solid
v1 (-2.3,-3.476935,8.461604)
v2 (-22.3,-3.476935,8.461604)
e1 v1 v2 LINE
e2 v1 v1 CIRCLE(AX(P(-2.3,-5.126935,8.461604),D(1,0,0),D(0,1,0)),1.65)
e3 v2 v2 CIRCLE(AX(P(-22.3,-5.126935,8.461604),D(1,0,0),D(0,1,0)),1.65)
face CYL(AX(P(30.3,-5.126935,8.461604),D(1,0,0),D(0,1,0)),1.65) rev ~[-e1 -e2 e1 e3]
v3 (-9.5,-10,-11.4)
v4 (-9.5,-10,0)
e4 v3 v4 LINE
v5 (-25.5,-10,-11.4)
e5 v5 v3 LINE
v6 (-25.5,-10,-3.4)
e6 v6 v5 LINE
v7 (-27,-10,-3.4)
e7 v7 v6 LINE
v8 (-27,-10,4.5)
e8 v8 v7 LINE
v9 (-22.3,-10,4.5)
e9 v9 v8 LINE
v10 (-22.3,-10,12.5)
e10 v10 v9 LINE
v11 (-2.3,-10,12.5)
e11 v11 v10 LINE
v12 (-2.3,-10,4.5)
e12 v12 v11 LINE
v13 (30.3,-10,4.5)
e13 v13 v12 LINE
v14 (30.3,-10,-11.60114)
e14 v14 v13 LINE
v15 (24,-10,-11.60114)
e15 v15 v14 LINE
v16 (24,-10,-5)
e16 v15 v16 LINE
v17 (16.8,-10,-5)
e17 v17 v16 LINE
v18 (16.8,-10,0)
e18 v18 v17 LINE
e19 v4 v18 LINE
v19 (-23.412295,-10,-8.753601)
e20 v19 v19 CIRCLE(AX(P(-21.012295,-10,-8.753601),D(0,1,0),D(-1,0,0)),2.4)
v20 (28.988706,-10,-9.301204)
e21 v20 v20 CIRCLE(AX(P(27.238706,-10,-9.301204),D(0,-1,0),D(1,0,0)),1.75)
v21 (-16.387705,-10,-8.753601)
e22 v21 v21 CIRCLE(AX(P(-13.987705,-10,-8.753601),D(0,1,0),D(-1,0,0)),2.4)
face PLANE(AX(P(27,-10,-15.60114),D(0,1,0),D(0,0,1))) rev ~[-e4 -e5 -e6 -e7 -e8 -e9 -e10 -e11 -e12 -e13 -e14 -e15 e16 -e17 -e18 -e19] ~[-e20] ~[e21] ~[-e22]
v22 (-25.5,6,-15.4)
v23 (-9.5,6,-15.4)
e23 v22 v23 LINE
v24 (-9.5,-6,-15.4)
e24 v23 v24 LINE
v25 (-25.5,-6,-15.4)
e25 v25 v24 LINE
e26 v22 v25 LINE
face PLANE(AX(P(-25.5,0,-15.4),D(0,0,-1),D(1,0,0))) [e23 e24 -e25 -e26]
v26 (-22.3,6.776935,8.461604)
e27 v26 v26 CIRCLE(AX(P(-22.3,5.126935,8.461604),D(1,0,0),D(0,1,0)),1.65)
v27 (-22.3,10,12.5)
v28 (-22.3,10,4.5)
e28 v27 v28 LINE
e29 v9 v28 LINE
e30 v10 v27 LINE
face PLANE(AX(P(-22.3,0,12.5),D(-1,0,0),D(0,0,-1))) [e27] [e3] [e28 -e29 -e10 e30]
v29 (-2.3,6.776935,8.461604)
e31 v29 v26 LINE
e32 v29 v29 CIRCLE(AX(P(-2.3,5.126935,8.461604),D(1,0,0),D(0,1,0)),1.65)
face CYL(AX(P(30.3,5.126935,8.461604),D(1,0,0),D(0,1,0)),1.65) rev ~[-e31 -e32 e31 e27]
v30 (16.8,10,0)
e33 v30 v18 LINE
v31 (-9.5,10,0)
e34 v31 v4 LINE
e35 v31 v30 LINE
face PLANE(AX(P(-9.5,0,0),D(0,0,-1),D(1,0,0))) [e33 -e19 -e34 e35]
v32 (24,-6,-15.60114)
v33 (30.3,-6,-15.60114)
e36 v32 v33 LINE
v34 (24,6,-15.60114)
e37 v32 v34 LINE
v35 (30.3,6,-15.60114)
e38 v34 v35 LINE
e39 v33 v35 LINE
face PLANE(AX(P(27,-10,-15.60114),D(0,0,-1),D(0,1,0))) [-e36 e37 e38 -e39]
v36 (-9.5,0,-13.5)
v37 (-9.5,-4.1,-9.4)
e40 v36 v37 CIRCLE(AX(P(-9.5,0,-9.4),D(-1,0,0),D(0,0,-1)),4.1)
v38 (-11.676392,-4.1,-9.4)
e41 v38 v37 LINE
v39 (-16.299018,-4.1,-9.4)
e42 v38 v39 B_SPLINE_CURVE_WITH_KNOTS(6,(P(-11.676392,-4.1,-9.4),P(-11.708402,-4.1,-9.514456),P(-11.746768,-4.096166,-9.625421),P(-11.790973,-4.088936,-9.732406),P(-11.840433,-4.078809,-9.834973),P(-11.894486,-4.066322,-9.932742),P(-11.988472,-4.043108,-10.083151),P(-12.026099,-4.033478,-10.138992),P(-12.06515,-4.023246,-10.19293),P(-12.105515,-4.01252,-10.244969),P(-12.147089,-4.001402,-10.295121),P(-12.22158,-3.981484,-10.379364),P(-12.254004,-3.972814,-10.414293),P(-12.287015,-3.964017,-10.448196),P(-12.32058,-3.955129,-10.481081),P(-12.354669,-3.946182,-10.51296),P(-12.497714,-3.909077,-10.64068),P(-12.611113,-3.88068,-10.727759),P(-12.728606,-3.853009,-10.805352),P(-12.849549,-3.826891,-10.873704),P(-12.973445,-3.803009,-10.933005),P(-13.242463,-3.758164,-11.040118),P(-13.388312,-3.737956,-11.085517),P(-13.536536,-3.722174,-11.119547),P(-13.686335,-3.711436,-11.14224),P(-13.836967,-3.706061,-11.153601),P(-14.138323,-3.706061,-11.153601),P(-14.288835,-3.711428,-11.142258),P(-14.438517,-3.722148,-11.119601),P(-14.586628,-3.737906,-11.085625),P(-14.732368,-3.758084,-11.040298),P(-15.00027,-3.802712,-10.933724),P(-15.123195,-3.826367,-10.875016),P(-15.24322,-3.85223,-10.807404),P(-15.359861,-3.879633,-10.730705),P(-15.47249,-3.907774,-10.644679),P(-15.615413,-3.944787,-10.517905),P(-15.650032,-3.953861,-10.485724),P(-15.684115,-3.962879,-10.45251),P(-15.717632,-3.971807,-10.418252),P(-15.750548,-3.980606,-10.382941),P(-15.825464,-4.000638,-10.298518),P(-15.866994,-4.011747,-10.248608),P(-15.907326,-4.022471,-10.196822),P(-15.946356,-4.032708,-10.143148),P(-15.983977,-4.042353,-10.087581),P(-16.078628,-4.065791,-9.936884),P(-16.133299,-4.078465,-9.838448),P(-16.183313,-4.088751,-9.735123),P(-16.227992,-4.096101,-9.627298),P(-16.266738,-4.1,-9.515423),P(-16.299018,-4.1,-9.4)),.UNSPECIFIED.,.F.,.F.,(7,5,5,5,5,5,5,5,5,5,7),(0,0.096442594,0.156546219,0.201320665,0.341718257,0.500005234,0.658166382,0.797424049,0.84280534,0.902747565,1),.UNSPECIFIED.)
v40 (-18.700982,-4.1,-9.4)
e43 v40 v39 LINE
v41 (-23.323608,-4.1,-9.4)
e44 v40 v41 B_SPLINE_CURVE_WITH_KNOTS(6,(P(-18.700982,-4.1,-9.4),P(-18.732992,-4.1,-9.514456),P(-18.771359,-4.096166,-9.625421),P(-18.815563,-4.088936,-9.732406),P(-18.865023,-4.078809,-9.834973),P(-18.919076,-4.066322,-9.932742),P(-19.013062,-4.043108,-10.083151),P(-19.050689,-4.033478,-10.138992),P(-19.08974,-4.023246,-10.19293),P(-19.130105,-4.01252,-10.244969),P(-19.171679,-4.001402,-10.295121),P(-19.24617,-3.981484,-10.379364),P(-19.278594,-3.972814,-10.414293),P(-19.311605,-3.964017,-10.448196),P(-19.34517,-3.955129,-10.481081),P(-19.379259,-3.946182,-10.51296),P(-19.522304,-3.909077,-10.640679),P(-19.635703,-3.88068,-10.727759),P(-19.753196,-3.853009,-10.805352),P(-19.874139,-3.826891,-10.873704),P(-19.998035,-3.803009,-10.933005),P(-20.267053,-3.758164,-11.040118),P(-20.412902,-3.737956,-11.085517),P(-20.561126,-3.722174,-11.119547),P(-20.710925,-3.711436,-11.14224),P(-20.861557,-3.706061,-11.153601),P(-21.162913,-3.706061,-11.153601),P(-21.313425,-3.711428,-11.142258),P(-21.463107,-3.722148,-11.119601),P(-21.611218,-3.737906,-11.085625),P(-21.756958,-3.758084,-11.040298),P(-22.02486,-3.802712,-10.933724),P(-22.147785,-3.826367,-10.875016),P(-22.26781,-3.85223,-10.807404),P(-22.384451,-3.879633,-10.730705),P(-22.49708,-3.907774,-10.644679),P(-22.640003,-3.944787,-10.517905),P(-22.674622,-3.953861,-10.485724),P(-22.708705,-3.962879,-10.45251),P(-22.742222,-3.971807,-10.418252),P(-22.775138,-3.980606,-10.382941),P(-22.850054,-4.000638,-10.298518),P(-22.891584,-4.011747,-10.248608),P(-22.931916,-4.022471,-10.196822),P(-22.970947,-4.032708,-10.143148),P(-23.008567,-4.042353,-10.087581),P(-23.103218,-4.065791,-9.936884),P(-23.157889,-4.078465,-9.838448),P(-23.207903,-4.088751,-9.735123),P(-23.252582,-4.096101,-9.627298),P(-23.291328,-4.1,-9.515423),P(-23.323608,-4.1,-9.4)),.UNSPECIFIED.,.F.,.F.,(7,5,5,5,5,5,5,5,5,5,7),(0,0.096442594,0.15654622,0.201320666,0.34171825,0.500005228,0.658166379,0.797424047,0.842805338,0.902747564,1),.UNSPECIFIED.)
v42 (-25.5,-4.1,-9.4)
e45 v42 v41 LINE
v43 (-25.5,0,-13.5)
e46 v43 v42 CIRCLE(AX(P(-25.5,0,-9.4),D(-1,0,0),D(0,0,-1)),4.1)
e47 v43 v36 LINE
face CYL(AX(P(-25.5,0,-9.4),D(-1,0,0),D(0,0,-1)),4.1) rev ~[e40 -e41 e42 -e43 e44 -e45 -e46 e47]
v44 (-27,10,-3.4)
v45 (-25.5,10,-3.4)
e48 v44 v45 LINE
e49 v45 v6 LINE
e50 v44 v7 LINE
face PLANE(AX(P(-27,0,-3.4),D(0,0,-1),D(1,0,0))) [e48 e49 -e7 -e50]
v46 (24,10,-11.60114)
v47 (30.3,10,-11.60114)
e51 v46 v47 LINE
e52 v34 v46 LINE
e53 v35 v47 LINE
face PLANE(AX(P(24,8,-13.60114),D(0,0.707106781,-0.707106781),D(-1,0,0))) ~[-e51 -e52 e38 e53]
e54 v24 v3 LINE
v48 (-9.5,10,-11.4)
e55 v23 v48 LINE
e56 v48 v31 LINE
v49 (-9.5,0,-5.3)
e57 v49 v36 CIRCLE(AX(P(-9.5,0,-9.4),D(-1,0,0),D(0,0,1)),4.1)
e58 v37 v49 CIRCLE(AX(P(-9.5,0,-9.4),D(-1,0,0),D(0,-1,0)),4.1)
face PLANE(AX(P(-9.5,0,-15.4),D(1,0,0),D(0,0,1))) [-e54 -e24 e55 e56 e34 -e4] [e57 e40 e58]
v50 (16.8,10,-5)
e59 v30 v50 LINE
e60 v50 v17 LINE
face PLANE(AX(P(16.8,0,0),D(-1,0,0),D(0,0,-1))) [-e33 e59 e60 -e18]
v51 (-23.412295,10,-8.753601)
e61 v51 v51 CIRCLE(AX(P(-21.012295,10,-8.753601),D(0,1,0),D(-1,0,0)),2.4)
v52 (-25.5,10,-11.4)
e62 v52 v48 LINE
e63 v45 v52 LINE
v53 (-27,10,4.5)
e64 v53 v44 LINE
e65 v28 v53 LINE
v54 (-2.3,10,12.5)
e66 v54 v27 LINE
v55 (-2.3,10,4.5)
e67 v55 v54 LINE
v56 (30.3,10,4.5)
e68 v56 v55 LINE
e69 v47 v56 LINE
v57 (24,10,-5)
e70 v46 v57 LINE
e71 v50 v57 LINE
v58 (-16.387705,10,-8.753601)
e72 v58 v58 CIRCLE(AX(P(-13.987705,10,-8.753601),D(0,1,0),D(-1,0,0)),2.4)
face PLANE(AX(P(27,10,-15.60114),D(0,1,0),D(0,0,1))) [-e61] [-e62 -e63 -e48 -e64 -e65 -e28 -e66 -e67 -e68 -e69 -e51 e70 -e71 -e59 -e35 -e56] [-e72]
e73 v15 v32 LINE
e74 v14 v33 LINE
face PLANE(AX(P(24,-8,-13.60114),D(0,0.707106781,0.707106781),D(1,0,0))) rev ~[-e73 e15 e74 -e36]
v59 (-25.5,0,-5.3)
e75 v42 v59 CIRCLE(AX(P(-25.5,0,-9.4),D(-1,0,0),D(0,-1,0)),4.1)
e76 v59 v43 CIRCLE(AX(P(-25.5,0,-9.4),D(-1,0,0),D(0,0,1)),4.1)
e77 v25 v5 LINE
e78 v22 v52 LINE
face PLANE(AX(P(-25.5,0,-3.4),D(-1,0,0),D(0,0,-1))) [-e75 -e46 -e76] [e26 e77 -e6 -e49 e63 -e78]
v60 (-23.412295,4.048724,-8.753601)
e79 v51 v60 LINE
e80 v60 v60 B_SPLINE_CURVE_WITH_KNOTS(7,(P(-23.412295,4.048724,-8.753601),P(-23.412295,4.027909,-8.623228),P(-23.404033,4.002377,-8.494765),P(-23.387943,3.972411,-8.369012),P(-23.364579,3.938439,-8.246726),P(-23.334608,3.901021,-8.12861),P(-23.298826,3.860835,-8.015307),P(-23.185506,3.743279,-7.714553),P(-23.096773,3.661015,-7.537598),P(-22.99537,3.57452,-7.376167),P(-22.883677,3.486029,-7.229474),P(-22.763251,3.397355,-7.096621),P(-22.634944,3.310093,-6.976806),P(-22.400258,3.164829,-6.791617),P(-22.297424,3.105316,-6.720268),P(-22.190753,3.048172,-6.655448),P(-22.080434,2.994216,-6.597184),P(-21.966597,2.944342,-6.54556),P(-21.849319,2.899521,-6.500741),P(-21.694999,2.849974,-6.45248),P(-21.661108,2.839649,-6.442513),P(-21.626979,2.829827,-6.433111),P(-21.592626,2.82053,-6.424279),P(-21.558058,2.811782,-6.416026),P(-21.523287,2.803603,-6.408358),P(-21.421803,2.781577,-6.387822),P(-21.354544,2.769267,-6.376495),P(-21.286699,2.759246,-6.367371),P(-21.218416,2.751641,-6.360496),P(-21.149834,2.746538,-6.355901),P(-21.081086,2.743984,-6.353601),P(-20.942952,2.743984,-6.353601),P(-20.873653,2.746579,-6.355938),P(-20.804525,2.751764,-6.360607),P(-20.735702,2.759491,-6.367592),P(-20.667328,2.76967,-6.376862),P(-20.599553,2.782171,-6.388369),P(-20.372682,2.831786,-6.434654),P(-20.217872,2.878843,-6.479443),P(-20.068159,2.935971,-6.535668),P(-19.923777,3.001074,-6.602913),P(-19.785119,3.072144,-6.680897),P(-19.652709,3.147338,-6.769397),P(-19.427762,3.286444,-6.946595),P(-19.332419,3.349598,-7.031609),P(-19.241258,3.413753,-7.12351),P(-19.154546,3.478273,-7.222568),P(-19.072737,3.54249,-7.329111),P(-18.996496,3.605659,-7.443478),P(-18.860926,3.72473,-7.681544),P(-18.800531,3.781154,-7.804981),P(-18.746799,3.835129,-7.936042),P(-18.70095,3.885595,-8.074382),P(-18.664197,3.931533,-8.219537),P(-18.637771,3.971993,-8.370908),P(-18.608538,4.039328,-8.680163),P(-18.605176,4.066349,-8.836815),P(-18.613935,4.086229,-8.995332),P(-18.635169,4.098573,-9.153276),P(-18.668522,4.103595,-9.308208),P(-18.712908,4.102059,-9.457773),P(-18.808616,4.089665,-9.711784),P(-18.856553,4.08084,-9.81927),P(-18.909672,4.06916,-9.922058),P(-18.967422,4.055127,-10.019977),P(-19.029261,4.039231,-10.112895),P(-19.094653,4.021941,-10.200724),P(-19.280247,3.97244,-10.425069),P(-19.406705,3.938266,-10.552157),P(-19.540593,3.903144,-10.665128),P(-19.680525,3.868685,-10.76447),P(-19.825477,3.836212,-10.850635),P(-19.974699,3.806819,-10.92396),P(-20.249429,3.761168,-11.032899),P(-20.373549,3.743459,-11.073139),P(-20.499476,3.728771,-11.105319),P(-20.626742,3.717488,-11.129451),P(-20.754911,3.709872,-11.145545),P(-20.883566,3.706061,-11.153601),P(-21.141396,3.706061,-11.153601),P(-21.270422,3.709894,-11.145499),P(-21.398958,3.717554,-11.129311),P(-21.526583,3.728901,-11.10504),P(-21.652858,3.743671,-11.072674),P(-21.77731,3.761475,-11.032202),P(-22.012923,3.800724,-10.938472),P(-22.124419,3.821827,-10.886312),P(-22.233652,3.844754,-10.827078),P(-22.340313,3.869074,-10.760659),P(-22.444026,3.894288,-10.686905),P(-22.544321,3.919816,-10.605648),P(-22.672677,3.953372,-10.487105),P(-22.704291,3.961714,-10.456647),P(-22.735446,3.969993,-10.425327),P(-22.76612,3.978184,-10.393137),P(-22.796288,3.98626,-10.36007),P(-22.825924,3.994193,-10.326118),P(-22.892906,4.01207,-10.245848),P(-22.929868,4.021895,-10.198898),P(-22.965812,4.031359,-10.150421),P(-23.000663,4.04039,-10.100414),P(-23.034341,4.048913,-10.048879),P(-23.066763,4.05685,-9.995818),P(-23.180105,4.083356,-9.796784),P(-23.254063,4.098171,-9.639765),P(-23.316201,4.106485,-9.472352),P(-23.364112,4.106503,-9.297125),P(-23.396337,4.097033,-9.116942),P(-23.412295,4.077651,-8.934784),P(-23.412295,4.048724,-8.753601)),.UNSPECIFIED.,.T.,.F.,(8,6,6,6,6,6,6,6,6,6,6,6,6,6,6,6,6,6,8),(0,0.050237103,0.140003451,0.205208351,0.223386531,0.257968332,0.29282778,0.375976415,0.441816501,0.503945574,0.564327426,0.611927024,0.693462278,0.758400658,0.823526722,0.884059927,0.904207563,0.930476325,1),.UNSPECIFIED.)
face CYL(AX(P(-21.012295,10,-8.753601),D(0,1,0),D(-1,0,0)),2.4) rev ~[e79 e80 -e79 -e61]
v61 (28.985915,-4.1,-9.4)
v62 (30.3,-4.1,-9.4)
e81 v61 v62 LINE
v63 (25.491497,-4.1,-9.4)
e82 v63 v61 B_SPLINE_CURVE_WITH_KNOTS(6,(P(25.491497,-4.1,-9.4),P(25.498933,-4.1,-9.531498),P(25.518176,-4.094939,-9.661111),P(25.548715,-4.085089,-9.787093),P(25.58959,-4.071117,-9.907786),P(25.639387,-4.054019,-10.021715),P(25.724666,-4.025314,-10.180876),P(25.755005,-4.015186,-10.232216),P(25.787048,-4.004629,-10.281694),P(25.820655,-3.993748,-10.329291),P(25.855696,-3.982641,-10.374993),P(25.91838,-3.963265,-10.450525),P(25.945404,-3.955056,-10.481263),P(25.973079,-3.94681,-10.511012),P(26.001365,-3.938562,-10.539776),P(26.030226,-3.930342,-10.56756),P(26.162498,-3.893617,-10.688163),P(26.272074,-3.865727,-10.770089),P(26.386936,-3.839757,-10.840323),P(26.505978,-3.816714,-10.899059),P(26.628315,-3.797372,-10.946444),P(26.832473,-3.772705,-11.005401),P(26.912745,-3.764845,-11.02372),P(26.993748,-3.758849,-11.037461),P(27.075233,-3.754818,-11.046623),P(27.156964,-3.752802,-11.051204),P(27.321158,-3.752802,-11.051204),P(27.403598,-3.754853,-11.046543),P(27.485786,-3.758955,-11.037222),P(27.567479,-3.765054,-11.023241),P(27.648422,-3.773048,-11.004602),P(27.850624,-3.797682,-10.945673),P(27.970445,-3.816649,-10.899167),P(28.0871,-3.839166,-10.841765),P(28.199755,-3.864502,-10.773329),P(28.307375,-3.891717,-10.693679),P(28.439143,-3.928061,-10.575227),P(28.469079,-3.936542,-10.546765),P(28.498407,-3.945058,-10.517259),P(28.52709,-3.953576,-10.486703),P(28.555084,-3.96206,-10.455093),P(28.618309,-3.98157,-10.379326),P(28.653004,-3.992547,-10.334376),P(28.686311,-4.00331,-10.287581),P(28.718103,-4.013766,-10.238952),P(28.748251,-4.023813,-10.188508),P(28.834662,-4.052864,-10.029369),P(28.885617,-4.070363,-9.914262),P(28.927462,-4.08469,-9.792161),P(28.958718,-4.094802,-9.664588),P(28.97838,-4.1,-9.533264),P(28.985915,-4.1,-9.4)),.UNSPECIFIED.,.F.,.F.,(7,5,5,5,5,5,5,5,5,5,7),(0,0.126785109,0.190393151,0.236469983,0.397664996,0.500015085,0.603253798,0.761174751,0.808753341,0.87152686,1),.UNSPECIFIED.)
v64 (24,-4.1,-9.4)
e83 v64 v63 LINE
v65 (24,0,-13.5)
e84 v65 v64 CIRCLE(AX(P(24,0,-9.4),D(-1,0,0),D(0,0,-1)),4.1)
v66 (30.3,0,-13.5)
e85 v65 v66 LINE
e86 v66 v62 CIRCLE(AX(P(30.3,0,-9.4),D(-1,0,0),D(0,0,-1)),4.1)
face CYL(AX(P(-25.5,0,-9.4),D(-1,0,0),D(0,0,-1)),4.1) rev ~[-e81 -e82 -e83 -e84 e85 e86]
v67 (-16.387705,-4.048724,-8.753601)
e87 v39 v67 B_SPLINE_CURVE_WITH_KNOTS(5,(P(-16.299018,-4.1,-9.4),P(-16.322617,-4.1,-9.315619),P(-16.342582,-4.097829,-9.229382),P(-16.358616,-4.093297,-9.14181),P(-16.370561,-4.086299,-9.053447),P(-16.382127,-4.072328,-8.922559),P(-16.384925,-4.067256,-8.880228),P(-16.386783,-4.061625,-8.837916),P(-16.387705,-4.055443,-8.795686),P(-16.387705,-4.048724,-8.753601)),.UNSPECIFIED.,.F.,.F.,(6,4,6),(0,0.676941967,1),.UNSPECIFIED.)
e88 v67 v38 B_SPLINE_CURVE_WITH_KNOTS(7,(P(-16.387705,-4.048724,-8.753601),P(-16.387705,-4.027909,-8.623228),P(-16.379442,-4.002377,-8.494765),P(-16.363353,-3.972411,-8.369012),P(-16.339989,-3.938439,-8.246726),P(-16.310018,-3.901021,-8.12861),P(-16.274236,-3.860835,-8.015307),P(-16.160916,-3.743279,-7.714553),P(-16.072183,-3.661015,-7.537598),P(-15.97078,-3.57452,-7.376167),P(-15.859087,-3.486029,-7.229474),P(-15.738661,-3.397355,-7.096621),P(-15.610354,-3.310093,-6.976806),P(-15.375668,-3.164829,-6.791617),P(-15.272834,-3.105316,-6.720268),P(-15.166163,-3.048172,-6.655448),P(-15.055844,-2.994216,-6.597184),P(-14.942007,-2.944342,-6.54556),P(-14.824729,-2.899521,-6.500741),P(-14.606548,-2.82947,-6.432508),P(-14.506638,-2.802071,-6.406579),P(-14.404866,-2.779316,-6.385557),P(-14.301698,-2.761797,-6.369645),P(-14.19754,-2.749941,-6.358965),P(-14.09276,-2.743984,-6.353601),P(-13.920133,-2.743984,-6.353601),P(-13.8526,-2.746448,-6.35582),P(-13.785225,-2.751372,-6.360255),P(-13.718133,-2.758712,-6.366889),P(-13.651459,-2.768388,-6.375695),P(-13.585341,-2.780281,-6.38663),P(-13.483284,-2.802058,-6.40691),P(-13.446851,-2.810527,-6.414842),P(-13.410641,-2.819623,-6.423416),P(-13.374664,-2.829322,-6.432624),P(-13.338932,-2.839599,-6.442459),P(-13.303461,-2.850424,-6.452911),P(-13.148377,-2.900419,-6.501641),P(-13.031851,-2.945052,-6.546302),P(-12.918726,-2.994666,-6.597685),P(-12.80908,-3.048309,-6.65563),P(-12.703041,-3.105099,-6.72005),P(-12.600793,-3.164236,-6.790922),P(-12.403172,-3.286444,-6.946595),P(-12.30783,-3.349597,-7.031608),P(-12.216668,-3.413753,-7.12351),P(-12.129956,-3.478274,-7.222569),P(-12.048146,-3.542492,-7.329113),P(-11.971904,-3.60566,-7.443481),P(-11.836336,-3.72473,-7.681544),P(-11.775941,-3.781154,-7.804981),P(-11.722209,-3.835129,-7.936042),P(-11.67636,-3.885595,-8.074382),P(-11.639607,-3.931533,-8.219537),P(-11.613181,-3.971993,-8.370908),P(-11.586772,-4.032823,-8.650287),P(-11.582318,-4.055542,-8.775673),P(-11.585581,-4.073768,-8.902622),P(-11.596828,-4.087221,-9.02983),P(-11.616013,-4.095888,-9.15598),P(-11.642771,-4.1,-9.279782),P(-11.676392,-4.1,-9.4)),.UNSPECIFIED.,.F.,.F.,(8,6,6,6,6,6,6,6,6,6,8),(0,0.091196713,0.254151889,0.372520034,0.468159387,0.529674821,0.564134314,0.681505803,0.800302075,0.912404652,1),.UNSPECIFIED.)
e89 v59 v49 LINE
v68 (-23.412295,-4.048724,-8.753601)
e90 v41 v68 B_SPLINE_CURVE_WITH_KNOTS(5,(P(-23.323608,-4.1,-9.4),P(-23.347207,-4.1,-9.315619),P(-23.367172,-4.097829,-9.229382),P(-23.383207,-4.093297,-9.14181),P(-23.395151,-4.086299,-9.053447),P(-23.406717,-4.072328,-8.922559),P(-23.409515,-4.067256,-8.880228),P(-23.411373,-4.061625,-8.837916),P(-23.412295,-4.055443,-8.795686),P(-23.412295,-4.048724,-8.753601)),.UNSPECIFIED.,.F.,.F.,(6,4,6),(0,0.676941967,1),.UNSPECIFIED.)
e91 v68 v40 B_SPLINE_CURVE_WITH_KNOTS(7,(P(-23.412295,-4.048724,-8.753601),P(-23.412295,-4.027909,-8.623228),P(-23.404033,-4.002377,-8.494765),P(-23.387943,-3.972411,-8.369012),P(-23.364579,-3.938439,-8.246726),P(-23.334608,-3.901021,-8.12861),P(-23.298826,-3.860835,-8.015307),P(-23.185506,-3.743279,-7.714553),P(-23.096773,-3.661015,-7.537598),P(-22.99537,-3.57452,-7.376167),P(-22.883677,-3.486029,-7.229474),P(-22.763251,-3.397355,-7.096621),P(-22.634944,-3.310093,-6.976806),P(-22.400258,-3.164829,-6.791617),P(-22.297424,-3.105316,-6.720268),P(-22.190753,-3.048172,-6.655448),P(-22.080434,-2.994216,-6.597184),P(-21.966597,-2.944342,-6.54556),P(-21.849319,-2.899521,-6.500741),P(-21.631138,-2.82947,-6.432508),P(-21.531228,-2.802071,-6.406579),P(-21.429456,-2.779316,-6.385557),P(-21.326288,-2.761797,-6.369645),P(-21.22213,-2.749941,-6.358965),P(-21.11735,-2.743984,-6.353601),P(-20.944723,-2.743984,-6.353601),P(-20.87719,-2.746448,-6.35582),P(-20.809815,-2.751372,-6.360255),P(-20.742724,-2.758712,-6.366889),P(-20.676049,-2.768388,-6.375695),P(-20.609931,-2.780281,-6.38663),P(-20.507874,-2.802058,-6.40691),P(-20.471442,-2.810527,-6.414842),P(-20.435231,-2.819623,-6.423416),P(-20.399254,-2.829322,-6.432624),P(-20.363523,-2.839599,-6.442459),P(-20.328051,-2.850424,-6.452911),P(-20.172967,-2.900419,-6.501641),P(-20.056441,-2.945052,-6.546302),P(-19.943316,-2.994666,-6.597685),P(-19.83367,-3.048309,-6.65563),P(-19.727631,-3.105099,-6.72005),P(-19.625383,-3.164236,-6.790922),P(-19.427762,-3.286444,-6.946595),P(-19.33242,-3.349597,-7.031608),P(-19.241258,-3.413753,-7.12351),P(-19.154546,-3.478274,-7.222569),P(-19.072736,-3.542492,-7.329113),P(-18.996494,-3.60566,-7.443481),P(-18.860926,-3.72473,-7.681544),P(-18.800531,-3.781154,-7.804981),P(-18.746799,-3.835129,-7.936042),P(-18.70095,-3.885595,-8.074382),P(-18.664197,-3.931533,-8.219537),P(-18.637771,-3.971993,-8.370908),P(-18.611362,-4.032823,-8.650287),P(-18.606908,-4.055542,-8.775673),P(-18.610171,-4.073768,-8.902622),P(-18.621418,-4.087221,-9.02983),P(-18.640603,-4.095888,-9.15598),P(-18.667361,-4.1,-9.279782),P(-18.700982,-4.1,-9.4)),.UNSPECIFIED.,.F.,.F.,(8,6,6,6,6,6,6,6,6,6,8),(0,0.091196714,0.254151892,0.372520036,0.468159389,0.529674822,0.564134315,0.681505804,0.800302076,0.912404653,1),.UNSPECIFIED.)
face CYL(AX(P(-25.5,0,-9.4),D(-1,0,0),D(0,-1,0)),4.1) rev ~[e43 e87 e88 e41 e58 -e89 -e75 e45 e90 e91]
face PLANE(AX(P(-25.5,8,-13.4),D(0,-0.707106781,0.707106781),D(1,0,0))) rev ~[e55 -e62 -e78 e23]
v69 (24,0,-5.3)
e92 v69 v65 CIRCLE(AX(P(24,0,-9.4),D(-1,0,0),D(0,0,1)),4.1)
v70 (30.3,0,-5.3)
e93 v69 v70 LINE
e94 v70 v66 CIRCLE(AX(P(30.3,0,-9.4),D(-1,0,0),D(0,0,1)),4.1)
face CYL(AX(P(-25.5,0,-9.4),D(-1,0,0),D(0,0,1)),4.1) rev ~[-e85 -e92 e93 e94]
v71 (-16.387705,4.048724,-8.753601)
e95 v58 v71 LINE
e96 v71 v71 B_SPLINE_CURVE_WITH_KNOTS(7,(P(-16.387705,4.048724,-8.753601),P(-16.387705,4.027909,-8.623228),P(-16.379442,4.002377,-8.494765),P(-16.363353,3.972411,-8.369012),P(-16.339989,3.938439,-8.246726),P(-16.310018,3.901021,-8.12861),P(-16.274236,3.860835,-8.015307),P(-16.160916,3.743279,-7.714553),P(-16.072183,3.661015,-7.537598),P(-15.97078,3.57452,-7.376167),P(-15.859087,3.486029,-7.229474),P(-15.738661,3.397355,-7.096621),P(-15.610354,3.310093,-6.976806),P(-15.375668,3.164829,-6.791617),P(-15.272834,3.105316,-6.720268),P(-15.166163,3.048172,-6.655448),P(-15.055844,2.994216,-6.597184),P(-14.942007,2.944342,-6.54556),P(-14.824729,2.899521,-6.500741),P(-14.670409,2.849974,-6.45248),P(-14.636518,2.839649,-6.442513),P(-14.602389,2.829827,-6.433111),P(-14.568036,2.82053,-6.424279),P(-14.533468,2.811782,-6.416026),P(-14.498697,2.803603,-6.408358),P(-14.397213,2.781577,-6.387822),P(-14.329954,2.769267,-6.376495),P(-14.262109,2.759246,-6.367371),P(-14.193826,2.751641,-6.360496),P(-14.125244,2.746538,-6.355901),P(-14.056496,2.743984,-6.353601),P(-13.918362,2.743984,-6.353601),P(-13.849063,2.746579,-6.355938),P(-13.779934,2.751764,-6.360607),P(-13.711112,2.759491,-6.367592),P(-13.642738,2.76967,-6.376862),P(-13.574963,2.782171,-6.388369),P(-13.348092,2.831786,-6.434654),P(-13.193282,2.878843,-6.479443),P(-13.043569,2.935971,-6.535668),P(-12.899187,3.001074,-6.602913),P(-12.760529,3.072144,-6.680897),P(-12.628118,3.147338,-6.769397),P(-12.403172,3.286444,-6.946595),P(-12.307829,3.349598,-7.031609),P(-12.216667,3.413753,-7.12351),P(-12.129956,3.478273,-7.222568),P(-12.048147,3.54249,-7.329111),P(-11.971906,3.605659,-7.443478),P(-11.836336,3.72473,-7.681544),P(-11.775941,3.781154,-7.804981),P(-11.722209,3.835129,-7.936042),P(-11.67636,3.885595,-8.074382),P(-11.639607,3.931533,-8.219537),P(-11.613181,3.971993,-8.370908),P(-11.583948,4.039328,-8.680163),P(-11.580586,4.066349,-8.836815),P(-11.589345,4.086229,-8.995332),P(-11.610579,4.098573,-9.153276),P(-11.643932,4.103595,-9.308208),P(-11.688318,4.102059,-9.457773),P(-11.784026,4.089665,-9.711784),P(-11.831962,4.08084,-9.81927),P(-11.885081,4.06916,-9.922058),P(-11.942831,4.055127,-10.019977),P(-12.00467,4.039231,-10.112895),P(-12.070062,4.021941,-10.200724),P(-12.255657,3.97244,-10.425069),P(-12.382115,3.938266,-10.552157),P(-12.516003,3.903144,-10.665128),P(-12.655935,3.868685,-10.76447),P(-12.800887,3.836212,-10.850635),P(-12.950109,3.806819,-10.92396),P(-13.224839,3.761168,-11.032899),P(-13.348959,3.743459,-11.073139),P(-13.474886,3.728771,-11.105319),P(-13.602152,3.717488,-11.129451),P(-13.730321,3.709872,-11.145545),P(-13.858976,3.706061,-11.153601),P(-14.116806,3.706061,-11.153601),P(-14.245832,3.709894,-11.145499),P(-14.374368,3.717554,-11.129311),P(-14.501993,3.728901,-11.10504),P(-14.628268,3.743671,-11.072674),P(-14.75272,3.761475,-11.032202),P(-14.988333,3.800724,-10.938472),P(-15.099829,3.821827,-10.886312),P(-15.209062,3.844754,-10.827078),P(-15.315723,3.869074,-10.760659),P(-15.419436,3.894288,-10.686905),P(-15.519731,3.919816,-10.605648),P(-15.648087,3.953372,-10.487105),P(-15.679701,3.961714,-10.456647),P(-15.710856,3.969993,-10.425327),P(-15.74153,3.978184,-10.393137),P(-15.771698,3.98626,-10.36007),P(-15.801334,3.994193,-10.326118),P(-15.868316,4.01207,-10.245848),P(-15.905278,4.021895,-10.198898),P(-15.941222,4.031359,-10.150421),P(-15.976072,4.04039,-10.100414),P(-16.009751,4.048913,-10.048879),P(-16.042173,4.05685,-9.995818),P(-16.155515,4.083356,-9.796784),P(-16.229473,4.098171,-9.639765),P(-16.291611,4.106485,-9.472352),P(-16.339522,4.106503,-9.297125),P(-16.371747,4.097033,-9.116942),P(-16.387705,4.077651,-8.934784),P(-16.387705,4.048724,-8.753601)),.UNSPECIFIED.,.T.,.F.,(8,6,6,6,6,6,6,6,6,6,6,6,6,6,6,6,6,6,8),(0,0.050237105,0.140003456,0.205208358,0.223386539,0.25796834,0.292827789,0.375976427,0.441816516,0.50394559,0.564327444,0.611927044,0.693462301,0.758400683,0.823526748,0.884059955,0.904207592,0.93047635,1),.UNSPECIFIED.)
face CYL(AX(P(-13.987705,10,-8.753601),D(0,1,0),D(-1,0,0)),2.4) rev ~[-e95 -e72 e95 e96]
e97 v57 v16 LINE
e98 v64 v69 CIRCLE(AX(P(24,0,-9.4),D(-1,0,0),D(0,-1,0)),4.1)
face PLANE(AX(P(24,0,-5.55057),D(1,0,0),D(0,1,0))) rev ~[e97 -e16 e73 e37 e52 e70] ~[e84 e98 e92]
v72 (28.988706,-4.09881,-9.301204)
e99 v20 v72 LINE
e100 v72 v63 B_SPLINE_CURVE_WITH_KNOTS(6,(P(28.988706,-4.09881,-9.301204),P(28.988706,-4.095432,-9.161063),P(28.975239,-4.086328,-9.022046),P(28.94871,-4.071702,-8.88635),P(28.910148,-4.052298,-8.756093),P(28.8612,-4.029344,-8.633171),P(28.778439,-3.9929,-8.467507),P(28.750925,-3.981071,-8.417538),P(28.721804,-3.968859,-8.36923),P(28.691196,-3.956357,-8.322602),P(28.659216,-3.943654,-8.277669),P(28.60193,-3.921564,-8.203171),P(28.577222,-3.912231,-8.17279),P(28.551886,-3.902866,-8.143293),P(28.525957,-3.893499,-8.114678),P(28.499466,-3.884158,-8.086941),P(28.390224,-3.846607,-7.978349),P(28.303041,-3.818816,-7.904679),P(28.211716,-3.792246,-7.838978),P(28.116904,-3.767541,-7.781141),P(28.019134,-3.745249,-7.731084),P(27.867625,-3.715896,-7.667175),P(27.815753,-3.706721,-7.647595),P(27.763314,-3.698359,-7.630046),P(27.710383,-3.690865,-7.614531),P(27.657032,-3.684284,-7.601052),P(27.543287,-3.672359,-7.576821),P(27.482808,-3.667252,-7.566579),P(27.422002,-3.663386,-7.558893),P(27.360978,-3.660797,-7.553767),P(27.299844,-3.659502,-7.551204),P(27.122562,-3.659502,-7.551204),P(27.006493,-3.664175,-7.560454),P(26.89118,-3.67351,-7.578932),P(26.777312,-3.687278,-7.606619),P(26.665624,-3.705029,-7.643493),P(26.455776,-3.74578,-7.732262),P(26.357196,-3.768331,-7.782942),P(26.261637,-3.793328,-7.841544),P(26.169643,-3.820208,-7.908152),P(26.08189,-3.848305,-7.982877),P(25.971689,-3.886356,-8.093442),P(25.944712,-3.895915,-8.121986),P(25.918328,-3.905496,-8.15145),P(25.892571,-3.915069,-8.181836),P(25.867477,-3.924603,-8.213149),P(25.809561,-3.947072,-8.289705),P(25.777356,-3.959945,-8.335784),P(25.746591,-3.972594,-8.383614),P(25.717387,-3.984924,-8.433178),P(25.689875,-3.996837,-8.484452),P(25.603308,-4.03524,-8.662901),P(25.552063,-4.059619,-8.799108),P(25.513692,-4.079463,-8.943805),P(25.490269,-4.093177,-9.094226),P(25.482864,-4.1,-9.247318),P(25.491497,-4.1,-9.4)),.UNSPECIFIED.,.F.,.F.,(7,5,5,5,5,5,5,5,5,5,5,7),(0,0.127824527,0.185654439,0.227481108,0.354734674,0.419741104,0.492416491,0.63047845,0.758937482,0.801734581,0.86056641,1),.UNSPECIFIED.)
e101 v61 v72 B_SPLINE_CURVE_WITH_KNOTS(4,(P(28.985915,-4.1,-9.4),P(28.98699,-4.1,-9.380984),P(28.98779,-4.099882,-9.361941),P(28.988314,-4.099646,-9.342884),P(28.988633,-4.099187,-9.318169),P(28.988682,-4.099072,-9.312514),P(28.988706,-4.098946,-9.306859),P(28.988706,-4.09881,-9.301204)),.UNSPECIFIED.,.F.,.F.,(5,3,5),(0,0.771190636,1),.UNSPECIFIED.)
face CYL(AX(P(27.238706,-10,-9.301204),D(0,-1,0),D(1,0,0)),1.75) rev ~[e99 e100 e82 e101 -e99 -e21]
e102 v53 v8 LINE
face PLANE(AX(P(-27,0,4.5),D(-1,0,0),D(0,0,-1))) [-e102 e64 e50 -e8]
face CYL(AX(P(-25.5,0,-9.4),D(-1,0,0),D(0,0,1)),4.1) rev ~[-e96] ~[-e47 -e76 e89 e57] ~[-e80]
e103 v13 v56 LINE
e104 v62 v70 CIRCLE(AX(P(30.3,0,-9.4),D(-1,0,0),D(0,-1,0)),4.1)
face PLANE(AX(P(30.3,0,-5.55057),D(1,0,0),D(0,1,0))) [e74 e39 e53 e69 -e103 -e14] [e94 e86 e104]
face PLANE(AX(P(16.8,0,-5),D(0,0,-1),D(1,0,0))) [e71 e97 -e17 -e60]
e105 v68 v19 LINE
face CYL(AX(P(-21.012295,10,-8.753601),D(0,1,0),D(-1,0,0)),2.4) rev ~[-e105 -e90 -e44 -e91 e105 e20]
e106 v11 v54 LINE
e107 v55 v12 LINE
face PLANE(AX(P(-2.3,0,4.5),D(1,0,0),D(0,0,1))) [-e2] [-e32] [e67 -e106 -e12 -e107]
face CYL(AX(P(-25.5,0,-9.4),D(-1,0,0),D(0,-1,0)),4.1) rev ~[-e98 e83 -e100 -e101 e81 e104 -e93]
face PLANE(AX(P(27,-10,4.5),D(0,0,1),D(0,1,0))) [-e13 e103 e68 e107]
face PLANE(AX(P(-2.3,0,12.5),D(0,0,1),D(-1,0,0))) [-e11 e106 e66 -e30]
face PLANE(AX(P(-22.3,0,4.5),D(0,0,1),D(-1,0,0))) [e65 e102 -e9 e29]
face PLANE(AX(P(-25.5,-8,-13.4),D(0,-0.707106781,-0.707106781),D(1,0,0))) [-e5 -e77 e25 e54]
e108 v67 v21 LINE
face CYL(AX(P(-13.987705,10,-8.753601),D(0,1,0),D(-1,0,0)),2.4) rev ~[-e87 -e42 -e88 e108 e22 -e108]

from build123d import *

# Parameters (mm, degrees)
F1_DEPTH      = 10
F2_SIZE       = 4
F4_W          = 20
F4_H          = 20.101140447
F5_DEPTH      = 3.3
F5_DEPTH_BACK = 3
F6_DEPTH      = 84
F7_SIZE       = 4
F8_R          = 1.75
F9_DEPTH      = 8.7
F10_R         = 1.65
F11_DEPTH     = 66.9
F12_R         = 2.4
F13_DEPTH     = 25


with BuildPart() as f1:
    # F0 (on Front) → F1 (new body, symmetric)
    with BuildSketch(Plane.XZ):
        Polygon((-22.3, 4.5), (-27, 4.5), (-27, -3.4), (-25.5, -3.4), (-25.5, -15.4), (-9.5, -15.4), (-9.5, 0), (16.8, 0), (16.8, -5), (27, -5), (27, 0), (27, 4.5), (-2.3, 4.5), (-2.3, 12.5), (-22.3, 12.5), align=None)
    extrude(amount=F1_DEPTH, both=True)

    # F2
    f2_edges = [f1.edges().sort_by_distance(p)[0] for p in [
        (-17.5, -10, -15.4),
        (-17.5, 10, -15.4),
    ]]
    chamfer(f2_edges, length=F2_SIZE)

    # F4 (on face) → F5 (join, two sides)
    with BuildSketch(Plane.YZ.offset(27)) as f5_sk:
        with Locations((0, -5.5505702235)):
            Rectangle(F4_W, F4_H)
    extrude(amount=F5_DEPTH)
    extrude(f5_sk.sketch, amount=-F5_DEPTH_BACK)

    # F3 (on face) → F6 (cut)
    with BuildSketch(Plane(origin=(-25.5, 0, 0), x_dir=(0, -1, 0), z_dir=(-1, 0, 0))):
        with BuildLine():
            ThreePointArc((4.1, -9.4), (2.8991378029, -6.5008621971), (0, -5.3))
            Line((0, -5.3), (0, -13.5))
            ThreePointArc((0, -13.5), (2.8991378029, -12.2991378029), (4.1, -9.4))
        make_face()
        with BuildLine():
            Line((0, -13.5), (0, -5.3))
            ThreePointArc((0, -5.3), (-4.1, -9.4), (0, -13.5))
        make_face()
    extrude(amount=-F6_DEPTH, mode=Mode.SUBTRACT)

    # F7
    f7_edges = [f1.edges().sort_by_distance(p)[0] for p in [
        (27.15, 10, -15.60114),
        (27.15, -10, -15.60114),
    ]]
    chamfer(f7_edges, length=F7_SIZE)

    # F8 (on face) → F9 (cut)
    with BuildSketch(Plane.XZ.offset(10)):
        with Locations((27.2387061268, -9.3012042344)):
            Circle(F8_R)
    extrude(amount=-F9_DEPTH, mode=Mode.SUBTRACT)

    # F10 (on face) → F11 (cut)
    with BuildSketch(Plane.YZ.offset(30.3)):
        with Locations((5.1269349642, 8.461603526)):
            Circle(F10_R)
        with Locations((-5.1269349642, 8.461603526)):
            Circle(F10_R)
    extrude(amount=-F11_DEPTH, mode=Mode.SUBTRACT)

    # F12 (on face) → F13 (cut)
    with BuildSketch(Plane(origin=(0, 10, 0), x_dir=(-1, 0, 0), z_dir=(0, 1, 0))):
        with Locations((21.0122950375, -8.7536005303)):
            Circle(F12_R)
        with Locations((13.9877049625, -8.7536005303)):
            Circle(F12_R)
    extrude(amount=-F13_DEPTH, mode=Mode.SUBTRACT)


solid = f1.part
